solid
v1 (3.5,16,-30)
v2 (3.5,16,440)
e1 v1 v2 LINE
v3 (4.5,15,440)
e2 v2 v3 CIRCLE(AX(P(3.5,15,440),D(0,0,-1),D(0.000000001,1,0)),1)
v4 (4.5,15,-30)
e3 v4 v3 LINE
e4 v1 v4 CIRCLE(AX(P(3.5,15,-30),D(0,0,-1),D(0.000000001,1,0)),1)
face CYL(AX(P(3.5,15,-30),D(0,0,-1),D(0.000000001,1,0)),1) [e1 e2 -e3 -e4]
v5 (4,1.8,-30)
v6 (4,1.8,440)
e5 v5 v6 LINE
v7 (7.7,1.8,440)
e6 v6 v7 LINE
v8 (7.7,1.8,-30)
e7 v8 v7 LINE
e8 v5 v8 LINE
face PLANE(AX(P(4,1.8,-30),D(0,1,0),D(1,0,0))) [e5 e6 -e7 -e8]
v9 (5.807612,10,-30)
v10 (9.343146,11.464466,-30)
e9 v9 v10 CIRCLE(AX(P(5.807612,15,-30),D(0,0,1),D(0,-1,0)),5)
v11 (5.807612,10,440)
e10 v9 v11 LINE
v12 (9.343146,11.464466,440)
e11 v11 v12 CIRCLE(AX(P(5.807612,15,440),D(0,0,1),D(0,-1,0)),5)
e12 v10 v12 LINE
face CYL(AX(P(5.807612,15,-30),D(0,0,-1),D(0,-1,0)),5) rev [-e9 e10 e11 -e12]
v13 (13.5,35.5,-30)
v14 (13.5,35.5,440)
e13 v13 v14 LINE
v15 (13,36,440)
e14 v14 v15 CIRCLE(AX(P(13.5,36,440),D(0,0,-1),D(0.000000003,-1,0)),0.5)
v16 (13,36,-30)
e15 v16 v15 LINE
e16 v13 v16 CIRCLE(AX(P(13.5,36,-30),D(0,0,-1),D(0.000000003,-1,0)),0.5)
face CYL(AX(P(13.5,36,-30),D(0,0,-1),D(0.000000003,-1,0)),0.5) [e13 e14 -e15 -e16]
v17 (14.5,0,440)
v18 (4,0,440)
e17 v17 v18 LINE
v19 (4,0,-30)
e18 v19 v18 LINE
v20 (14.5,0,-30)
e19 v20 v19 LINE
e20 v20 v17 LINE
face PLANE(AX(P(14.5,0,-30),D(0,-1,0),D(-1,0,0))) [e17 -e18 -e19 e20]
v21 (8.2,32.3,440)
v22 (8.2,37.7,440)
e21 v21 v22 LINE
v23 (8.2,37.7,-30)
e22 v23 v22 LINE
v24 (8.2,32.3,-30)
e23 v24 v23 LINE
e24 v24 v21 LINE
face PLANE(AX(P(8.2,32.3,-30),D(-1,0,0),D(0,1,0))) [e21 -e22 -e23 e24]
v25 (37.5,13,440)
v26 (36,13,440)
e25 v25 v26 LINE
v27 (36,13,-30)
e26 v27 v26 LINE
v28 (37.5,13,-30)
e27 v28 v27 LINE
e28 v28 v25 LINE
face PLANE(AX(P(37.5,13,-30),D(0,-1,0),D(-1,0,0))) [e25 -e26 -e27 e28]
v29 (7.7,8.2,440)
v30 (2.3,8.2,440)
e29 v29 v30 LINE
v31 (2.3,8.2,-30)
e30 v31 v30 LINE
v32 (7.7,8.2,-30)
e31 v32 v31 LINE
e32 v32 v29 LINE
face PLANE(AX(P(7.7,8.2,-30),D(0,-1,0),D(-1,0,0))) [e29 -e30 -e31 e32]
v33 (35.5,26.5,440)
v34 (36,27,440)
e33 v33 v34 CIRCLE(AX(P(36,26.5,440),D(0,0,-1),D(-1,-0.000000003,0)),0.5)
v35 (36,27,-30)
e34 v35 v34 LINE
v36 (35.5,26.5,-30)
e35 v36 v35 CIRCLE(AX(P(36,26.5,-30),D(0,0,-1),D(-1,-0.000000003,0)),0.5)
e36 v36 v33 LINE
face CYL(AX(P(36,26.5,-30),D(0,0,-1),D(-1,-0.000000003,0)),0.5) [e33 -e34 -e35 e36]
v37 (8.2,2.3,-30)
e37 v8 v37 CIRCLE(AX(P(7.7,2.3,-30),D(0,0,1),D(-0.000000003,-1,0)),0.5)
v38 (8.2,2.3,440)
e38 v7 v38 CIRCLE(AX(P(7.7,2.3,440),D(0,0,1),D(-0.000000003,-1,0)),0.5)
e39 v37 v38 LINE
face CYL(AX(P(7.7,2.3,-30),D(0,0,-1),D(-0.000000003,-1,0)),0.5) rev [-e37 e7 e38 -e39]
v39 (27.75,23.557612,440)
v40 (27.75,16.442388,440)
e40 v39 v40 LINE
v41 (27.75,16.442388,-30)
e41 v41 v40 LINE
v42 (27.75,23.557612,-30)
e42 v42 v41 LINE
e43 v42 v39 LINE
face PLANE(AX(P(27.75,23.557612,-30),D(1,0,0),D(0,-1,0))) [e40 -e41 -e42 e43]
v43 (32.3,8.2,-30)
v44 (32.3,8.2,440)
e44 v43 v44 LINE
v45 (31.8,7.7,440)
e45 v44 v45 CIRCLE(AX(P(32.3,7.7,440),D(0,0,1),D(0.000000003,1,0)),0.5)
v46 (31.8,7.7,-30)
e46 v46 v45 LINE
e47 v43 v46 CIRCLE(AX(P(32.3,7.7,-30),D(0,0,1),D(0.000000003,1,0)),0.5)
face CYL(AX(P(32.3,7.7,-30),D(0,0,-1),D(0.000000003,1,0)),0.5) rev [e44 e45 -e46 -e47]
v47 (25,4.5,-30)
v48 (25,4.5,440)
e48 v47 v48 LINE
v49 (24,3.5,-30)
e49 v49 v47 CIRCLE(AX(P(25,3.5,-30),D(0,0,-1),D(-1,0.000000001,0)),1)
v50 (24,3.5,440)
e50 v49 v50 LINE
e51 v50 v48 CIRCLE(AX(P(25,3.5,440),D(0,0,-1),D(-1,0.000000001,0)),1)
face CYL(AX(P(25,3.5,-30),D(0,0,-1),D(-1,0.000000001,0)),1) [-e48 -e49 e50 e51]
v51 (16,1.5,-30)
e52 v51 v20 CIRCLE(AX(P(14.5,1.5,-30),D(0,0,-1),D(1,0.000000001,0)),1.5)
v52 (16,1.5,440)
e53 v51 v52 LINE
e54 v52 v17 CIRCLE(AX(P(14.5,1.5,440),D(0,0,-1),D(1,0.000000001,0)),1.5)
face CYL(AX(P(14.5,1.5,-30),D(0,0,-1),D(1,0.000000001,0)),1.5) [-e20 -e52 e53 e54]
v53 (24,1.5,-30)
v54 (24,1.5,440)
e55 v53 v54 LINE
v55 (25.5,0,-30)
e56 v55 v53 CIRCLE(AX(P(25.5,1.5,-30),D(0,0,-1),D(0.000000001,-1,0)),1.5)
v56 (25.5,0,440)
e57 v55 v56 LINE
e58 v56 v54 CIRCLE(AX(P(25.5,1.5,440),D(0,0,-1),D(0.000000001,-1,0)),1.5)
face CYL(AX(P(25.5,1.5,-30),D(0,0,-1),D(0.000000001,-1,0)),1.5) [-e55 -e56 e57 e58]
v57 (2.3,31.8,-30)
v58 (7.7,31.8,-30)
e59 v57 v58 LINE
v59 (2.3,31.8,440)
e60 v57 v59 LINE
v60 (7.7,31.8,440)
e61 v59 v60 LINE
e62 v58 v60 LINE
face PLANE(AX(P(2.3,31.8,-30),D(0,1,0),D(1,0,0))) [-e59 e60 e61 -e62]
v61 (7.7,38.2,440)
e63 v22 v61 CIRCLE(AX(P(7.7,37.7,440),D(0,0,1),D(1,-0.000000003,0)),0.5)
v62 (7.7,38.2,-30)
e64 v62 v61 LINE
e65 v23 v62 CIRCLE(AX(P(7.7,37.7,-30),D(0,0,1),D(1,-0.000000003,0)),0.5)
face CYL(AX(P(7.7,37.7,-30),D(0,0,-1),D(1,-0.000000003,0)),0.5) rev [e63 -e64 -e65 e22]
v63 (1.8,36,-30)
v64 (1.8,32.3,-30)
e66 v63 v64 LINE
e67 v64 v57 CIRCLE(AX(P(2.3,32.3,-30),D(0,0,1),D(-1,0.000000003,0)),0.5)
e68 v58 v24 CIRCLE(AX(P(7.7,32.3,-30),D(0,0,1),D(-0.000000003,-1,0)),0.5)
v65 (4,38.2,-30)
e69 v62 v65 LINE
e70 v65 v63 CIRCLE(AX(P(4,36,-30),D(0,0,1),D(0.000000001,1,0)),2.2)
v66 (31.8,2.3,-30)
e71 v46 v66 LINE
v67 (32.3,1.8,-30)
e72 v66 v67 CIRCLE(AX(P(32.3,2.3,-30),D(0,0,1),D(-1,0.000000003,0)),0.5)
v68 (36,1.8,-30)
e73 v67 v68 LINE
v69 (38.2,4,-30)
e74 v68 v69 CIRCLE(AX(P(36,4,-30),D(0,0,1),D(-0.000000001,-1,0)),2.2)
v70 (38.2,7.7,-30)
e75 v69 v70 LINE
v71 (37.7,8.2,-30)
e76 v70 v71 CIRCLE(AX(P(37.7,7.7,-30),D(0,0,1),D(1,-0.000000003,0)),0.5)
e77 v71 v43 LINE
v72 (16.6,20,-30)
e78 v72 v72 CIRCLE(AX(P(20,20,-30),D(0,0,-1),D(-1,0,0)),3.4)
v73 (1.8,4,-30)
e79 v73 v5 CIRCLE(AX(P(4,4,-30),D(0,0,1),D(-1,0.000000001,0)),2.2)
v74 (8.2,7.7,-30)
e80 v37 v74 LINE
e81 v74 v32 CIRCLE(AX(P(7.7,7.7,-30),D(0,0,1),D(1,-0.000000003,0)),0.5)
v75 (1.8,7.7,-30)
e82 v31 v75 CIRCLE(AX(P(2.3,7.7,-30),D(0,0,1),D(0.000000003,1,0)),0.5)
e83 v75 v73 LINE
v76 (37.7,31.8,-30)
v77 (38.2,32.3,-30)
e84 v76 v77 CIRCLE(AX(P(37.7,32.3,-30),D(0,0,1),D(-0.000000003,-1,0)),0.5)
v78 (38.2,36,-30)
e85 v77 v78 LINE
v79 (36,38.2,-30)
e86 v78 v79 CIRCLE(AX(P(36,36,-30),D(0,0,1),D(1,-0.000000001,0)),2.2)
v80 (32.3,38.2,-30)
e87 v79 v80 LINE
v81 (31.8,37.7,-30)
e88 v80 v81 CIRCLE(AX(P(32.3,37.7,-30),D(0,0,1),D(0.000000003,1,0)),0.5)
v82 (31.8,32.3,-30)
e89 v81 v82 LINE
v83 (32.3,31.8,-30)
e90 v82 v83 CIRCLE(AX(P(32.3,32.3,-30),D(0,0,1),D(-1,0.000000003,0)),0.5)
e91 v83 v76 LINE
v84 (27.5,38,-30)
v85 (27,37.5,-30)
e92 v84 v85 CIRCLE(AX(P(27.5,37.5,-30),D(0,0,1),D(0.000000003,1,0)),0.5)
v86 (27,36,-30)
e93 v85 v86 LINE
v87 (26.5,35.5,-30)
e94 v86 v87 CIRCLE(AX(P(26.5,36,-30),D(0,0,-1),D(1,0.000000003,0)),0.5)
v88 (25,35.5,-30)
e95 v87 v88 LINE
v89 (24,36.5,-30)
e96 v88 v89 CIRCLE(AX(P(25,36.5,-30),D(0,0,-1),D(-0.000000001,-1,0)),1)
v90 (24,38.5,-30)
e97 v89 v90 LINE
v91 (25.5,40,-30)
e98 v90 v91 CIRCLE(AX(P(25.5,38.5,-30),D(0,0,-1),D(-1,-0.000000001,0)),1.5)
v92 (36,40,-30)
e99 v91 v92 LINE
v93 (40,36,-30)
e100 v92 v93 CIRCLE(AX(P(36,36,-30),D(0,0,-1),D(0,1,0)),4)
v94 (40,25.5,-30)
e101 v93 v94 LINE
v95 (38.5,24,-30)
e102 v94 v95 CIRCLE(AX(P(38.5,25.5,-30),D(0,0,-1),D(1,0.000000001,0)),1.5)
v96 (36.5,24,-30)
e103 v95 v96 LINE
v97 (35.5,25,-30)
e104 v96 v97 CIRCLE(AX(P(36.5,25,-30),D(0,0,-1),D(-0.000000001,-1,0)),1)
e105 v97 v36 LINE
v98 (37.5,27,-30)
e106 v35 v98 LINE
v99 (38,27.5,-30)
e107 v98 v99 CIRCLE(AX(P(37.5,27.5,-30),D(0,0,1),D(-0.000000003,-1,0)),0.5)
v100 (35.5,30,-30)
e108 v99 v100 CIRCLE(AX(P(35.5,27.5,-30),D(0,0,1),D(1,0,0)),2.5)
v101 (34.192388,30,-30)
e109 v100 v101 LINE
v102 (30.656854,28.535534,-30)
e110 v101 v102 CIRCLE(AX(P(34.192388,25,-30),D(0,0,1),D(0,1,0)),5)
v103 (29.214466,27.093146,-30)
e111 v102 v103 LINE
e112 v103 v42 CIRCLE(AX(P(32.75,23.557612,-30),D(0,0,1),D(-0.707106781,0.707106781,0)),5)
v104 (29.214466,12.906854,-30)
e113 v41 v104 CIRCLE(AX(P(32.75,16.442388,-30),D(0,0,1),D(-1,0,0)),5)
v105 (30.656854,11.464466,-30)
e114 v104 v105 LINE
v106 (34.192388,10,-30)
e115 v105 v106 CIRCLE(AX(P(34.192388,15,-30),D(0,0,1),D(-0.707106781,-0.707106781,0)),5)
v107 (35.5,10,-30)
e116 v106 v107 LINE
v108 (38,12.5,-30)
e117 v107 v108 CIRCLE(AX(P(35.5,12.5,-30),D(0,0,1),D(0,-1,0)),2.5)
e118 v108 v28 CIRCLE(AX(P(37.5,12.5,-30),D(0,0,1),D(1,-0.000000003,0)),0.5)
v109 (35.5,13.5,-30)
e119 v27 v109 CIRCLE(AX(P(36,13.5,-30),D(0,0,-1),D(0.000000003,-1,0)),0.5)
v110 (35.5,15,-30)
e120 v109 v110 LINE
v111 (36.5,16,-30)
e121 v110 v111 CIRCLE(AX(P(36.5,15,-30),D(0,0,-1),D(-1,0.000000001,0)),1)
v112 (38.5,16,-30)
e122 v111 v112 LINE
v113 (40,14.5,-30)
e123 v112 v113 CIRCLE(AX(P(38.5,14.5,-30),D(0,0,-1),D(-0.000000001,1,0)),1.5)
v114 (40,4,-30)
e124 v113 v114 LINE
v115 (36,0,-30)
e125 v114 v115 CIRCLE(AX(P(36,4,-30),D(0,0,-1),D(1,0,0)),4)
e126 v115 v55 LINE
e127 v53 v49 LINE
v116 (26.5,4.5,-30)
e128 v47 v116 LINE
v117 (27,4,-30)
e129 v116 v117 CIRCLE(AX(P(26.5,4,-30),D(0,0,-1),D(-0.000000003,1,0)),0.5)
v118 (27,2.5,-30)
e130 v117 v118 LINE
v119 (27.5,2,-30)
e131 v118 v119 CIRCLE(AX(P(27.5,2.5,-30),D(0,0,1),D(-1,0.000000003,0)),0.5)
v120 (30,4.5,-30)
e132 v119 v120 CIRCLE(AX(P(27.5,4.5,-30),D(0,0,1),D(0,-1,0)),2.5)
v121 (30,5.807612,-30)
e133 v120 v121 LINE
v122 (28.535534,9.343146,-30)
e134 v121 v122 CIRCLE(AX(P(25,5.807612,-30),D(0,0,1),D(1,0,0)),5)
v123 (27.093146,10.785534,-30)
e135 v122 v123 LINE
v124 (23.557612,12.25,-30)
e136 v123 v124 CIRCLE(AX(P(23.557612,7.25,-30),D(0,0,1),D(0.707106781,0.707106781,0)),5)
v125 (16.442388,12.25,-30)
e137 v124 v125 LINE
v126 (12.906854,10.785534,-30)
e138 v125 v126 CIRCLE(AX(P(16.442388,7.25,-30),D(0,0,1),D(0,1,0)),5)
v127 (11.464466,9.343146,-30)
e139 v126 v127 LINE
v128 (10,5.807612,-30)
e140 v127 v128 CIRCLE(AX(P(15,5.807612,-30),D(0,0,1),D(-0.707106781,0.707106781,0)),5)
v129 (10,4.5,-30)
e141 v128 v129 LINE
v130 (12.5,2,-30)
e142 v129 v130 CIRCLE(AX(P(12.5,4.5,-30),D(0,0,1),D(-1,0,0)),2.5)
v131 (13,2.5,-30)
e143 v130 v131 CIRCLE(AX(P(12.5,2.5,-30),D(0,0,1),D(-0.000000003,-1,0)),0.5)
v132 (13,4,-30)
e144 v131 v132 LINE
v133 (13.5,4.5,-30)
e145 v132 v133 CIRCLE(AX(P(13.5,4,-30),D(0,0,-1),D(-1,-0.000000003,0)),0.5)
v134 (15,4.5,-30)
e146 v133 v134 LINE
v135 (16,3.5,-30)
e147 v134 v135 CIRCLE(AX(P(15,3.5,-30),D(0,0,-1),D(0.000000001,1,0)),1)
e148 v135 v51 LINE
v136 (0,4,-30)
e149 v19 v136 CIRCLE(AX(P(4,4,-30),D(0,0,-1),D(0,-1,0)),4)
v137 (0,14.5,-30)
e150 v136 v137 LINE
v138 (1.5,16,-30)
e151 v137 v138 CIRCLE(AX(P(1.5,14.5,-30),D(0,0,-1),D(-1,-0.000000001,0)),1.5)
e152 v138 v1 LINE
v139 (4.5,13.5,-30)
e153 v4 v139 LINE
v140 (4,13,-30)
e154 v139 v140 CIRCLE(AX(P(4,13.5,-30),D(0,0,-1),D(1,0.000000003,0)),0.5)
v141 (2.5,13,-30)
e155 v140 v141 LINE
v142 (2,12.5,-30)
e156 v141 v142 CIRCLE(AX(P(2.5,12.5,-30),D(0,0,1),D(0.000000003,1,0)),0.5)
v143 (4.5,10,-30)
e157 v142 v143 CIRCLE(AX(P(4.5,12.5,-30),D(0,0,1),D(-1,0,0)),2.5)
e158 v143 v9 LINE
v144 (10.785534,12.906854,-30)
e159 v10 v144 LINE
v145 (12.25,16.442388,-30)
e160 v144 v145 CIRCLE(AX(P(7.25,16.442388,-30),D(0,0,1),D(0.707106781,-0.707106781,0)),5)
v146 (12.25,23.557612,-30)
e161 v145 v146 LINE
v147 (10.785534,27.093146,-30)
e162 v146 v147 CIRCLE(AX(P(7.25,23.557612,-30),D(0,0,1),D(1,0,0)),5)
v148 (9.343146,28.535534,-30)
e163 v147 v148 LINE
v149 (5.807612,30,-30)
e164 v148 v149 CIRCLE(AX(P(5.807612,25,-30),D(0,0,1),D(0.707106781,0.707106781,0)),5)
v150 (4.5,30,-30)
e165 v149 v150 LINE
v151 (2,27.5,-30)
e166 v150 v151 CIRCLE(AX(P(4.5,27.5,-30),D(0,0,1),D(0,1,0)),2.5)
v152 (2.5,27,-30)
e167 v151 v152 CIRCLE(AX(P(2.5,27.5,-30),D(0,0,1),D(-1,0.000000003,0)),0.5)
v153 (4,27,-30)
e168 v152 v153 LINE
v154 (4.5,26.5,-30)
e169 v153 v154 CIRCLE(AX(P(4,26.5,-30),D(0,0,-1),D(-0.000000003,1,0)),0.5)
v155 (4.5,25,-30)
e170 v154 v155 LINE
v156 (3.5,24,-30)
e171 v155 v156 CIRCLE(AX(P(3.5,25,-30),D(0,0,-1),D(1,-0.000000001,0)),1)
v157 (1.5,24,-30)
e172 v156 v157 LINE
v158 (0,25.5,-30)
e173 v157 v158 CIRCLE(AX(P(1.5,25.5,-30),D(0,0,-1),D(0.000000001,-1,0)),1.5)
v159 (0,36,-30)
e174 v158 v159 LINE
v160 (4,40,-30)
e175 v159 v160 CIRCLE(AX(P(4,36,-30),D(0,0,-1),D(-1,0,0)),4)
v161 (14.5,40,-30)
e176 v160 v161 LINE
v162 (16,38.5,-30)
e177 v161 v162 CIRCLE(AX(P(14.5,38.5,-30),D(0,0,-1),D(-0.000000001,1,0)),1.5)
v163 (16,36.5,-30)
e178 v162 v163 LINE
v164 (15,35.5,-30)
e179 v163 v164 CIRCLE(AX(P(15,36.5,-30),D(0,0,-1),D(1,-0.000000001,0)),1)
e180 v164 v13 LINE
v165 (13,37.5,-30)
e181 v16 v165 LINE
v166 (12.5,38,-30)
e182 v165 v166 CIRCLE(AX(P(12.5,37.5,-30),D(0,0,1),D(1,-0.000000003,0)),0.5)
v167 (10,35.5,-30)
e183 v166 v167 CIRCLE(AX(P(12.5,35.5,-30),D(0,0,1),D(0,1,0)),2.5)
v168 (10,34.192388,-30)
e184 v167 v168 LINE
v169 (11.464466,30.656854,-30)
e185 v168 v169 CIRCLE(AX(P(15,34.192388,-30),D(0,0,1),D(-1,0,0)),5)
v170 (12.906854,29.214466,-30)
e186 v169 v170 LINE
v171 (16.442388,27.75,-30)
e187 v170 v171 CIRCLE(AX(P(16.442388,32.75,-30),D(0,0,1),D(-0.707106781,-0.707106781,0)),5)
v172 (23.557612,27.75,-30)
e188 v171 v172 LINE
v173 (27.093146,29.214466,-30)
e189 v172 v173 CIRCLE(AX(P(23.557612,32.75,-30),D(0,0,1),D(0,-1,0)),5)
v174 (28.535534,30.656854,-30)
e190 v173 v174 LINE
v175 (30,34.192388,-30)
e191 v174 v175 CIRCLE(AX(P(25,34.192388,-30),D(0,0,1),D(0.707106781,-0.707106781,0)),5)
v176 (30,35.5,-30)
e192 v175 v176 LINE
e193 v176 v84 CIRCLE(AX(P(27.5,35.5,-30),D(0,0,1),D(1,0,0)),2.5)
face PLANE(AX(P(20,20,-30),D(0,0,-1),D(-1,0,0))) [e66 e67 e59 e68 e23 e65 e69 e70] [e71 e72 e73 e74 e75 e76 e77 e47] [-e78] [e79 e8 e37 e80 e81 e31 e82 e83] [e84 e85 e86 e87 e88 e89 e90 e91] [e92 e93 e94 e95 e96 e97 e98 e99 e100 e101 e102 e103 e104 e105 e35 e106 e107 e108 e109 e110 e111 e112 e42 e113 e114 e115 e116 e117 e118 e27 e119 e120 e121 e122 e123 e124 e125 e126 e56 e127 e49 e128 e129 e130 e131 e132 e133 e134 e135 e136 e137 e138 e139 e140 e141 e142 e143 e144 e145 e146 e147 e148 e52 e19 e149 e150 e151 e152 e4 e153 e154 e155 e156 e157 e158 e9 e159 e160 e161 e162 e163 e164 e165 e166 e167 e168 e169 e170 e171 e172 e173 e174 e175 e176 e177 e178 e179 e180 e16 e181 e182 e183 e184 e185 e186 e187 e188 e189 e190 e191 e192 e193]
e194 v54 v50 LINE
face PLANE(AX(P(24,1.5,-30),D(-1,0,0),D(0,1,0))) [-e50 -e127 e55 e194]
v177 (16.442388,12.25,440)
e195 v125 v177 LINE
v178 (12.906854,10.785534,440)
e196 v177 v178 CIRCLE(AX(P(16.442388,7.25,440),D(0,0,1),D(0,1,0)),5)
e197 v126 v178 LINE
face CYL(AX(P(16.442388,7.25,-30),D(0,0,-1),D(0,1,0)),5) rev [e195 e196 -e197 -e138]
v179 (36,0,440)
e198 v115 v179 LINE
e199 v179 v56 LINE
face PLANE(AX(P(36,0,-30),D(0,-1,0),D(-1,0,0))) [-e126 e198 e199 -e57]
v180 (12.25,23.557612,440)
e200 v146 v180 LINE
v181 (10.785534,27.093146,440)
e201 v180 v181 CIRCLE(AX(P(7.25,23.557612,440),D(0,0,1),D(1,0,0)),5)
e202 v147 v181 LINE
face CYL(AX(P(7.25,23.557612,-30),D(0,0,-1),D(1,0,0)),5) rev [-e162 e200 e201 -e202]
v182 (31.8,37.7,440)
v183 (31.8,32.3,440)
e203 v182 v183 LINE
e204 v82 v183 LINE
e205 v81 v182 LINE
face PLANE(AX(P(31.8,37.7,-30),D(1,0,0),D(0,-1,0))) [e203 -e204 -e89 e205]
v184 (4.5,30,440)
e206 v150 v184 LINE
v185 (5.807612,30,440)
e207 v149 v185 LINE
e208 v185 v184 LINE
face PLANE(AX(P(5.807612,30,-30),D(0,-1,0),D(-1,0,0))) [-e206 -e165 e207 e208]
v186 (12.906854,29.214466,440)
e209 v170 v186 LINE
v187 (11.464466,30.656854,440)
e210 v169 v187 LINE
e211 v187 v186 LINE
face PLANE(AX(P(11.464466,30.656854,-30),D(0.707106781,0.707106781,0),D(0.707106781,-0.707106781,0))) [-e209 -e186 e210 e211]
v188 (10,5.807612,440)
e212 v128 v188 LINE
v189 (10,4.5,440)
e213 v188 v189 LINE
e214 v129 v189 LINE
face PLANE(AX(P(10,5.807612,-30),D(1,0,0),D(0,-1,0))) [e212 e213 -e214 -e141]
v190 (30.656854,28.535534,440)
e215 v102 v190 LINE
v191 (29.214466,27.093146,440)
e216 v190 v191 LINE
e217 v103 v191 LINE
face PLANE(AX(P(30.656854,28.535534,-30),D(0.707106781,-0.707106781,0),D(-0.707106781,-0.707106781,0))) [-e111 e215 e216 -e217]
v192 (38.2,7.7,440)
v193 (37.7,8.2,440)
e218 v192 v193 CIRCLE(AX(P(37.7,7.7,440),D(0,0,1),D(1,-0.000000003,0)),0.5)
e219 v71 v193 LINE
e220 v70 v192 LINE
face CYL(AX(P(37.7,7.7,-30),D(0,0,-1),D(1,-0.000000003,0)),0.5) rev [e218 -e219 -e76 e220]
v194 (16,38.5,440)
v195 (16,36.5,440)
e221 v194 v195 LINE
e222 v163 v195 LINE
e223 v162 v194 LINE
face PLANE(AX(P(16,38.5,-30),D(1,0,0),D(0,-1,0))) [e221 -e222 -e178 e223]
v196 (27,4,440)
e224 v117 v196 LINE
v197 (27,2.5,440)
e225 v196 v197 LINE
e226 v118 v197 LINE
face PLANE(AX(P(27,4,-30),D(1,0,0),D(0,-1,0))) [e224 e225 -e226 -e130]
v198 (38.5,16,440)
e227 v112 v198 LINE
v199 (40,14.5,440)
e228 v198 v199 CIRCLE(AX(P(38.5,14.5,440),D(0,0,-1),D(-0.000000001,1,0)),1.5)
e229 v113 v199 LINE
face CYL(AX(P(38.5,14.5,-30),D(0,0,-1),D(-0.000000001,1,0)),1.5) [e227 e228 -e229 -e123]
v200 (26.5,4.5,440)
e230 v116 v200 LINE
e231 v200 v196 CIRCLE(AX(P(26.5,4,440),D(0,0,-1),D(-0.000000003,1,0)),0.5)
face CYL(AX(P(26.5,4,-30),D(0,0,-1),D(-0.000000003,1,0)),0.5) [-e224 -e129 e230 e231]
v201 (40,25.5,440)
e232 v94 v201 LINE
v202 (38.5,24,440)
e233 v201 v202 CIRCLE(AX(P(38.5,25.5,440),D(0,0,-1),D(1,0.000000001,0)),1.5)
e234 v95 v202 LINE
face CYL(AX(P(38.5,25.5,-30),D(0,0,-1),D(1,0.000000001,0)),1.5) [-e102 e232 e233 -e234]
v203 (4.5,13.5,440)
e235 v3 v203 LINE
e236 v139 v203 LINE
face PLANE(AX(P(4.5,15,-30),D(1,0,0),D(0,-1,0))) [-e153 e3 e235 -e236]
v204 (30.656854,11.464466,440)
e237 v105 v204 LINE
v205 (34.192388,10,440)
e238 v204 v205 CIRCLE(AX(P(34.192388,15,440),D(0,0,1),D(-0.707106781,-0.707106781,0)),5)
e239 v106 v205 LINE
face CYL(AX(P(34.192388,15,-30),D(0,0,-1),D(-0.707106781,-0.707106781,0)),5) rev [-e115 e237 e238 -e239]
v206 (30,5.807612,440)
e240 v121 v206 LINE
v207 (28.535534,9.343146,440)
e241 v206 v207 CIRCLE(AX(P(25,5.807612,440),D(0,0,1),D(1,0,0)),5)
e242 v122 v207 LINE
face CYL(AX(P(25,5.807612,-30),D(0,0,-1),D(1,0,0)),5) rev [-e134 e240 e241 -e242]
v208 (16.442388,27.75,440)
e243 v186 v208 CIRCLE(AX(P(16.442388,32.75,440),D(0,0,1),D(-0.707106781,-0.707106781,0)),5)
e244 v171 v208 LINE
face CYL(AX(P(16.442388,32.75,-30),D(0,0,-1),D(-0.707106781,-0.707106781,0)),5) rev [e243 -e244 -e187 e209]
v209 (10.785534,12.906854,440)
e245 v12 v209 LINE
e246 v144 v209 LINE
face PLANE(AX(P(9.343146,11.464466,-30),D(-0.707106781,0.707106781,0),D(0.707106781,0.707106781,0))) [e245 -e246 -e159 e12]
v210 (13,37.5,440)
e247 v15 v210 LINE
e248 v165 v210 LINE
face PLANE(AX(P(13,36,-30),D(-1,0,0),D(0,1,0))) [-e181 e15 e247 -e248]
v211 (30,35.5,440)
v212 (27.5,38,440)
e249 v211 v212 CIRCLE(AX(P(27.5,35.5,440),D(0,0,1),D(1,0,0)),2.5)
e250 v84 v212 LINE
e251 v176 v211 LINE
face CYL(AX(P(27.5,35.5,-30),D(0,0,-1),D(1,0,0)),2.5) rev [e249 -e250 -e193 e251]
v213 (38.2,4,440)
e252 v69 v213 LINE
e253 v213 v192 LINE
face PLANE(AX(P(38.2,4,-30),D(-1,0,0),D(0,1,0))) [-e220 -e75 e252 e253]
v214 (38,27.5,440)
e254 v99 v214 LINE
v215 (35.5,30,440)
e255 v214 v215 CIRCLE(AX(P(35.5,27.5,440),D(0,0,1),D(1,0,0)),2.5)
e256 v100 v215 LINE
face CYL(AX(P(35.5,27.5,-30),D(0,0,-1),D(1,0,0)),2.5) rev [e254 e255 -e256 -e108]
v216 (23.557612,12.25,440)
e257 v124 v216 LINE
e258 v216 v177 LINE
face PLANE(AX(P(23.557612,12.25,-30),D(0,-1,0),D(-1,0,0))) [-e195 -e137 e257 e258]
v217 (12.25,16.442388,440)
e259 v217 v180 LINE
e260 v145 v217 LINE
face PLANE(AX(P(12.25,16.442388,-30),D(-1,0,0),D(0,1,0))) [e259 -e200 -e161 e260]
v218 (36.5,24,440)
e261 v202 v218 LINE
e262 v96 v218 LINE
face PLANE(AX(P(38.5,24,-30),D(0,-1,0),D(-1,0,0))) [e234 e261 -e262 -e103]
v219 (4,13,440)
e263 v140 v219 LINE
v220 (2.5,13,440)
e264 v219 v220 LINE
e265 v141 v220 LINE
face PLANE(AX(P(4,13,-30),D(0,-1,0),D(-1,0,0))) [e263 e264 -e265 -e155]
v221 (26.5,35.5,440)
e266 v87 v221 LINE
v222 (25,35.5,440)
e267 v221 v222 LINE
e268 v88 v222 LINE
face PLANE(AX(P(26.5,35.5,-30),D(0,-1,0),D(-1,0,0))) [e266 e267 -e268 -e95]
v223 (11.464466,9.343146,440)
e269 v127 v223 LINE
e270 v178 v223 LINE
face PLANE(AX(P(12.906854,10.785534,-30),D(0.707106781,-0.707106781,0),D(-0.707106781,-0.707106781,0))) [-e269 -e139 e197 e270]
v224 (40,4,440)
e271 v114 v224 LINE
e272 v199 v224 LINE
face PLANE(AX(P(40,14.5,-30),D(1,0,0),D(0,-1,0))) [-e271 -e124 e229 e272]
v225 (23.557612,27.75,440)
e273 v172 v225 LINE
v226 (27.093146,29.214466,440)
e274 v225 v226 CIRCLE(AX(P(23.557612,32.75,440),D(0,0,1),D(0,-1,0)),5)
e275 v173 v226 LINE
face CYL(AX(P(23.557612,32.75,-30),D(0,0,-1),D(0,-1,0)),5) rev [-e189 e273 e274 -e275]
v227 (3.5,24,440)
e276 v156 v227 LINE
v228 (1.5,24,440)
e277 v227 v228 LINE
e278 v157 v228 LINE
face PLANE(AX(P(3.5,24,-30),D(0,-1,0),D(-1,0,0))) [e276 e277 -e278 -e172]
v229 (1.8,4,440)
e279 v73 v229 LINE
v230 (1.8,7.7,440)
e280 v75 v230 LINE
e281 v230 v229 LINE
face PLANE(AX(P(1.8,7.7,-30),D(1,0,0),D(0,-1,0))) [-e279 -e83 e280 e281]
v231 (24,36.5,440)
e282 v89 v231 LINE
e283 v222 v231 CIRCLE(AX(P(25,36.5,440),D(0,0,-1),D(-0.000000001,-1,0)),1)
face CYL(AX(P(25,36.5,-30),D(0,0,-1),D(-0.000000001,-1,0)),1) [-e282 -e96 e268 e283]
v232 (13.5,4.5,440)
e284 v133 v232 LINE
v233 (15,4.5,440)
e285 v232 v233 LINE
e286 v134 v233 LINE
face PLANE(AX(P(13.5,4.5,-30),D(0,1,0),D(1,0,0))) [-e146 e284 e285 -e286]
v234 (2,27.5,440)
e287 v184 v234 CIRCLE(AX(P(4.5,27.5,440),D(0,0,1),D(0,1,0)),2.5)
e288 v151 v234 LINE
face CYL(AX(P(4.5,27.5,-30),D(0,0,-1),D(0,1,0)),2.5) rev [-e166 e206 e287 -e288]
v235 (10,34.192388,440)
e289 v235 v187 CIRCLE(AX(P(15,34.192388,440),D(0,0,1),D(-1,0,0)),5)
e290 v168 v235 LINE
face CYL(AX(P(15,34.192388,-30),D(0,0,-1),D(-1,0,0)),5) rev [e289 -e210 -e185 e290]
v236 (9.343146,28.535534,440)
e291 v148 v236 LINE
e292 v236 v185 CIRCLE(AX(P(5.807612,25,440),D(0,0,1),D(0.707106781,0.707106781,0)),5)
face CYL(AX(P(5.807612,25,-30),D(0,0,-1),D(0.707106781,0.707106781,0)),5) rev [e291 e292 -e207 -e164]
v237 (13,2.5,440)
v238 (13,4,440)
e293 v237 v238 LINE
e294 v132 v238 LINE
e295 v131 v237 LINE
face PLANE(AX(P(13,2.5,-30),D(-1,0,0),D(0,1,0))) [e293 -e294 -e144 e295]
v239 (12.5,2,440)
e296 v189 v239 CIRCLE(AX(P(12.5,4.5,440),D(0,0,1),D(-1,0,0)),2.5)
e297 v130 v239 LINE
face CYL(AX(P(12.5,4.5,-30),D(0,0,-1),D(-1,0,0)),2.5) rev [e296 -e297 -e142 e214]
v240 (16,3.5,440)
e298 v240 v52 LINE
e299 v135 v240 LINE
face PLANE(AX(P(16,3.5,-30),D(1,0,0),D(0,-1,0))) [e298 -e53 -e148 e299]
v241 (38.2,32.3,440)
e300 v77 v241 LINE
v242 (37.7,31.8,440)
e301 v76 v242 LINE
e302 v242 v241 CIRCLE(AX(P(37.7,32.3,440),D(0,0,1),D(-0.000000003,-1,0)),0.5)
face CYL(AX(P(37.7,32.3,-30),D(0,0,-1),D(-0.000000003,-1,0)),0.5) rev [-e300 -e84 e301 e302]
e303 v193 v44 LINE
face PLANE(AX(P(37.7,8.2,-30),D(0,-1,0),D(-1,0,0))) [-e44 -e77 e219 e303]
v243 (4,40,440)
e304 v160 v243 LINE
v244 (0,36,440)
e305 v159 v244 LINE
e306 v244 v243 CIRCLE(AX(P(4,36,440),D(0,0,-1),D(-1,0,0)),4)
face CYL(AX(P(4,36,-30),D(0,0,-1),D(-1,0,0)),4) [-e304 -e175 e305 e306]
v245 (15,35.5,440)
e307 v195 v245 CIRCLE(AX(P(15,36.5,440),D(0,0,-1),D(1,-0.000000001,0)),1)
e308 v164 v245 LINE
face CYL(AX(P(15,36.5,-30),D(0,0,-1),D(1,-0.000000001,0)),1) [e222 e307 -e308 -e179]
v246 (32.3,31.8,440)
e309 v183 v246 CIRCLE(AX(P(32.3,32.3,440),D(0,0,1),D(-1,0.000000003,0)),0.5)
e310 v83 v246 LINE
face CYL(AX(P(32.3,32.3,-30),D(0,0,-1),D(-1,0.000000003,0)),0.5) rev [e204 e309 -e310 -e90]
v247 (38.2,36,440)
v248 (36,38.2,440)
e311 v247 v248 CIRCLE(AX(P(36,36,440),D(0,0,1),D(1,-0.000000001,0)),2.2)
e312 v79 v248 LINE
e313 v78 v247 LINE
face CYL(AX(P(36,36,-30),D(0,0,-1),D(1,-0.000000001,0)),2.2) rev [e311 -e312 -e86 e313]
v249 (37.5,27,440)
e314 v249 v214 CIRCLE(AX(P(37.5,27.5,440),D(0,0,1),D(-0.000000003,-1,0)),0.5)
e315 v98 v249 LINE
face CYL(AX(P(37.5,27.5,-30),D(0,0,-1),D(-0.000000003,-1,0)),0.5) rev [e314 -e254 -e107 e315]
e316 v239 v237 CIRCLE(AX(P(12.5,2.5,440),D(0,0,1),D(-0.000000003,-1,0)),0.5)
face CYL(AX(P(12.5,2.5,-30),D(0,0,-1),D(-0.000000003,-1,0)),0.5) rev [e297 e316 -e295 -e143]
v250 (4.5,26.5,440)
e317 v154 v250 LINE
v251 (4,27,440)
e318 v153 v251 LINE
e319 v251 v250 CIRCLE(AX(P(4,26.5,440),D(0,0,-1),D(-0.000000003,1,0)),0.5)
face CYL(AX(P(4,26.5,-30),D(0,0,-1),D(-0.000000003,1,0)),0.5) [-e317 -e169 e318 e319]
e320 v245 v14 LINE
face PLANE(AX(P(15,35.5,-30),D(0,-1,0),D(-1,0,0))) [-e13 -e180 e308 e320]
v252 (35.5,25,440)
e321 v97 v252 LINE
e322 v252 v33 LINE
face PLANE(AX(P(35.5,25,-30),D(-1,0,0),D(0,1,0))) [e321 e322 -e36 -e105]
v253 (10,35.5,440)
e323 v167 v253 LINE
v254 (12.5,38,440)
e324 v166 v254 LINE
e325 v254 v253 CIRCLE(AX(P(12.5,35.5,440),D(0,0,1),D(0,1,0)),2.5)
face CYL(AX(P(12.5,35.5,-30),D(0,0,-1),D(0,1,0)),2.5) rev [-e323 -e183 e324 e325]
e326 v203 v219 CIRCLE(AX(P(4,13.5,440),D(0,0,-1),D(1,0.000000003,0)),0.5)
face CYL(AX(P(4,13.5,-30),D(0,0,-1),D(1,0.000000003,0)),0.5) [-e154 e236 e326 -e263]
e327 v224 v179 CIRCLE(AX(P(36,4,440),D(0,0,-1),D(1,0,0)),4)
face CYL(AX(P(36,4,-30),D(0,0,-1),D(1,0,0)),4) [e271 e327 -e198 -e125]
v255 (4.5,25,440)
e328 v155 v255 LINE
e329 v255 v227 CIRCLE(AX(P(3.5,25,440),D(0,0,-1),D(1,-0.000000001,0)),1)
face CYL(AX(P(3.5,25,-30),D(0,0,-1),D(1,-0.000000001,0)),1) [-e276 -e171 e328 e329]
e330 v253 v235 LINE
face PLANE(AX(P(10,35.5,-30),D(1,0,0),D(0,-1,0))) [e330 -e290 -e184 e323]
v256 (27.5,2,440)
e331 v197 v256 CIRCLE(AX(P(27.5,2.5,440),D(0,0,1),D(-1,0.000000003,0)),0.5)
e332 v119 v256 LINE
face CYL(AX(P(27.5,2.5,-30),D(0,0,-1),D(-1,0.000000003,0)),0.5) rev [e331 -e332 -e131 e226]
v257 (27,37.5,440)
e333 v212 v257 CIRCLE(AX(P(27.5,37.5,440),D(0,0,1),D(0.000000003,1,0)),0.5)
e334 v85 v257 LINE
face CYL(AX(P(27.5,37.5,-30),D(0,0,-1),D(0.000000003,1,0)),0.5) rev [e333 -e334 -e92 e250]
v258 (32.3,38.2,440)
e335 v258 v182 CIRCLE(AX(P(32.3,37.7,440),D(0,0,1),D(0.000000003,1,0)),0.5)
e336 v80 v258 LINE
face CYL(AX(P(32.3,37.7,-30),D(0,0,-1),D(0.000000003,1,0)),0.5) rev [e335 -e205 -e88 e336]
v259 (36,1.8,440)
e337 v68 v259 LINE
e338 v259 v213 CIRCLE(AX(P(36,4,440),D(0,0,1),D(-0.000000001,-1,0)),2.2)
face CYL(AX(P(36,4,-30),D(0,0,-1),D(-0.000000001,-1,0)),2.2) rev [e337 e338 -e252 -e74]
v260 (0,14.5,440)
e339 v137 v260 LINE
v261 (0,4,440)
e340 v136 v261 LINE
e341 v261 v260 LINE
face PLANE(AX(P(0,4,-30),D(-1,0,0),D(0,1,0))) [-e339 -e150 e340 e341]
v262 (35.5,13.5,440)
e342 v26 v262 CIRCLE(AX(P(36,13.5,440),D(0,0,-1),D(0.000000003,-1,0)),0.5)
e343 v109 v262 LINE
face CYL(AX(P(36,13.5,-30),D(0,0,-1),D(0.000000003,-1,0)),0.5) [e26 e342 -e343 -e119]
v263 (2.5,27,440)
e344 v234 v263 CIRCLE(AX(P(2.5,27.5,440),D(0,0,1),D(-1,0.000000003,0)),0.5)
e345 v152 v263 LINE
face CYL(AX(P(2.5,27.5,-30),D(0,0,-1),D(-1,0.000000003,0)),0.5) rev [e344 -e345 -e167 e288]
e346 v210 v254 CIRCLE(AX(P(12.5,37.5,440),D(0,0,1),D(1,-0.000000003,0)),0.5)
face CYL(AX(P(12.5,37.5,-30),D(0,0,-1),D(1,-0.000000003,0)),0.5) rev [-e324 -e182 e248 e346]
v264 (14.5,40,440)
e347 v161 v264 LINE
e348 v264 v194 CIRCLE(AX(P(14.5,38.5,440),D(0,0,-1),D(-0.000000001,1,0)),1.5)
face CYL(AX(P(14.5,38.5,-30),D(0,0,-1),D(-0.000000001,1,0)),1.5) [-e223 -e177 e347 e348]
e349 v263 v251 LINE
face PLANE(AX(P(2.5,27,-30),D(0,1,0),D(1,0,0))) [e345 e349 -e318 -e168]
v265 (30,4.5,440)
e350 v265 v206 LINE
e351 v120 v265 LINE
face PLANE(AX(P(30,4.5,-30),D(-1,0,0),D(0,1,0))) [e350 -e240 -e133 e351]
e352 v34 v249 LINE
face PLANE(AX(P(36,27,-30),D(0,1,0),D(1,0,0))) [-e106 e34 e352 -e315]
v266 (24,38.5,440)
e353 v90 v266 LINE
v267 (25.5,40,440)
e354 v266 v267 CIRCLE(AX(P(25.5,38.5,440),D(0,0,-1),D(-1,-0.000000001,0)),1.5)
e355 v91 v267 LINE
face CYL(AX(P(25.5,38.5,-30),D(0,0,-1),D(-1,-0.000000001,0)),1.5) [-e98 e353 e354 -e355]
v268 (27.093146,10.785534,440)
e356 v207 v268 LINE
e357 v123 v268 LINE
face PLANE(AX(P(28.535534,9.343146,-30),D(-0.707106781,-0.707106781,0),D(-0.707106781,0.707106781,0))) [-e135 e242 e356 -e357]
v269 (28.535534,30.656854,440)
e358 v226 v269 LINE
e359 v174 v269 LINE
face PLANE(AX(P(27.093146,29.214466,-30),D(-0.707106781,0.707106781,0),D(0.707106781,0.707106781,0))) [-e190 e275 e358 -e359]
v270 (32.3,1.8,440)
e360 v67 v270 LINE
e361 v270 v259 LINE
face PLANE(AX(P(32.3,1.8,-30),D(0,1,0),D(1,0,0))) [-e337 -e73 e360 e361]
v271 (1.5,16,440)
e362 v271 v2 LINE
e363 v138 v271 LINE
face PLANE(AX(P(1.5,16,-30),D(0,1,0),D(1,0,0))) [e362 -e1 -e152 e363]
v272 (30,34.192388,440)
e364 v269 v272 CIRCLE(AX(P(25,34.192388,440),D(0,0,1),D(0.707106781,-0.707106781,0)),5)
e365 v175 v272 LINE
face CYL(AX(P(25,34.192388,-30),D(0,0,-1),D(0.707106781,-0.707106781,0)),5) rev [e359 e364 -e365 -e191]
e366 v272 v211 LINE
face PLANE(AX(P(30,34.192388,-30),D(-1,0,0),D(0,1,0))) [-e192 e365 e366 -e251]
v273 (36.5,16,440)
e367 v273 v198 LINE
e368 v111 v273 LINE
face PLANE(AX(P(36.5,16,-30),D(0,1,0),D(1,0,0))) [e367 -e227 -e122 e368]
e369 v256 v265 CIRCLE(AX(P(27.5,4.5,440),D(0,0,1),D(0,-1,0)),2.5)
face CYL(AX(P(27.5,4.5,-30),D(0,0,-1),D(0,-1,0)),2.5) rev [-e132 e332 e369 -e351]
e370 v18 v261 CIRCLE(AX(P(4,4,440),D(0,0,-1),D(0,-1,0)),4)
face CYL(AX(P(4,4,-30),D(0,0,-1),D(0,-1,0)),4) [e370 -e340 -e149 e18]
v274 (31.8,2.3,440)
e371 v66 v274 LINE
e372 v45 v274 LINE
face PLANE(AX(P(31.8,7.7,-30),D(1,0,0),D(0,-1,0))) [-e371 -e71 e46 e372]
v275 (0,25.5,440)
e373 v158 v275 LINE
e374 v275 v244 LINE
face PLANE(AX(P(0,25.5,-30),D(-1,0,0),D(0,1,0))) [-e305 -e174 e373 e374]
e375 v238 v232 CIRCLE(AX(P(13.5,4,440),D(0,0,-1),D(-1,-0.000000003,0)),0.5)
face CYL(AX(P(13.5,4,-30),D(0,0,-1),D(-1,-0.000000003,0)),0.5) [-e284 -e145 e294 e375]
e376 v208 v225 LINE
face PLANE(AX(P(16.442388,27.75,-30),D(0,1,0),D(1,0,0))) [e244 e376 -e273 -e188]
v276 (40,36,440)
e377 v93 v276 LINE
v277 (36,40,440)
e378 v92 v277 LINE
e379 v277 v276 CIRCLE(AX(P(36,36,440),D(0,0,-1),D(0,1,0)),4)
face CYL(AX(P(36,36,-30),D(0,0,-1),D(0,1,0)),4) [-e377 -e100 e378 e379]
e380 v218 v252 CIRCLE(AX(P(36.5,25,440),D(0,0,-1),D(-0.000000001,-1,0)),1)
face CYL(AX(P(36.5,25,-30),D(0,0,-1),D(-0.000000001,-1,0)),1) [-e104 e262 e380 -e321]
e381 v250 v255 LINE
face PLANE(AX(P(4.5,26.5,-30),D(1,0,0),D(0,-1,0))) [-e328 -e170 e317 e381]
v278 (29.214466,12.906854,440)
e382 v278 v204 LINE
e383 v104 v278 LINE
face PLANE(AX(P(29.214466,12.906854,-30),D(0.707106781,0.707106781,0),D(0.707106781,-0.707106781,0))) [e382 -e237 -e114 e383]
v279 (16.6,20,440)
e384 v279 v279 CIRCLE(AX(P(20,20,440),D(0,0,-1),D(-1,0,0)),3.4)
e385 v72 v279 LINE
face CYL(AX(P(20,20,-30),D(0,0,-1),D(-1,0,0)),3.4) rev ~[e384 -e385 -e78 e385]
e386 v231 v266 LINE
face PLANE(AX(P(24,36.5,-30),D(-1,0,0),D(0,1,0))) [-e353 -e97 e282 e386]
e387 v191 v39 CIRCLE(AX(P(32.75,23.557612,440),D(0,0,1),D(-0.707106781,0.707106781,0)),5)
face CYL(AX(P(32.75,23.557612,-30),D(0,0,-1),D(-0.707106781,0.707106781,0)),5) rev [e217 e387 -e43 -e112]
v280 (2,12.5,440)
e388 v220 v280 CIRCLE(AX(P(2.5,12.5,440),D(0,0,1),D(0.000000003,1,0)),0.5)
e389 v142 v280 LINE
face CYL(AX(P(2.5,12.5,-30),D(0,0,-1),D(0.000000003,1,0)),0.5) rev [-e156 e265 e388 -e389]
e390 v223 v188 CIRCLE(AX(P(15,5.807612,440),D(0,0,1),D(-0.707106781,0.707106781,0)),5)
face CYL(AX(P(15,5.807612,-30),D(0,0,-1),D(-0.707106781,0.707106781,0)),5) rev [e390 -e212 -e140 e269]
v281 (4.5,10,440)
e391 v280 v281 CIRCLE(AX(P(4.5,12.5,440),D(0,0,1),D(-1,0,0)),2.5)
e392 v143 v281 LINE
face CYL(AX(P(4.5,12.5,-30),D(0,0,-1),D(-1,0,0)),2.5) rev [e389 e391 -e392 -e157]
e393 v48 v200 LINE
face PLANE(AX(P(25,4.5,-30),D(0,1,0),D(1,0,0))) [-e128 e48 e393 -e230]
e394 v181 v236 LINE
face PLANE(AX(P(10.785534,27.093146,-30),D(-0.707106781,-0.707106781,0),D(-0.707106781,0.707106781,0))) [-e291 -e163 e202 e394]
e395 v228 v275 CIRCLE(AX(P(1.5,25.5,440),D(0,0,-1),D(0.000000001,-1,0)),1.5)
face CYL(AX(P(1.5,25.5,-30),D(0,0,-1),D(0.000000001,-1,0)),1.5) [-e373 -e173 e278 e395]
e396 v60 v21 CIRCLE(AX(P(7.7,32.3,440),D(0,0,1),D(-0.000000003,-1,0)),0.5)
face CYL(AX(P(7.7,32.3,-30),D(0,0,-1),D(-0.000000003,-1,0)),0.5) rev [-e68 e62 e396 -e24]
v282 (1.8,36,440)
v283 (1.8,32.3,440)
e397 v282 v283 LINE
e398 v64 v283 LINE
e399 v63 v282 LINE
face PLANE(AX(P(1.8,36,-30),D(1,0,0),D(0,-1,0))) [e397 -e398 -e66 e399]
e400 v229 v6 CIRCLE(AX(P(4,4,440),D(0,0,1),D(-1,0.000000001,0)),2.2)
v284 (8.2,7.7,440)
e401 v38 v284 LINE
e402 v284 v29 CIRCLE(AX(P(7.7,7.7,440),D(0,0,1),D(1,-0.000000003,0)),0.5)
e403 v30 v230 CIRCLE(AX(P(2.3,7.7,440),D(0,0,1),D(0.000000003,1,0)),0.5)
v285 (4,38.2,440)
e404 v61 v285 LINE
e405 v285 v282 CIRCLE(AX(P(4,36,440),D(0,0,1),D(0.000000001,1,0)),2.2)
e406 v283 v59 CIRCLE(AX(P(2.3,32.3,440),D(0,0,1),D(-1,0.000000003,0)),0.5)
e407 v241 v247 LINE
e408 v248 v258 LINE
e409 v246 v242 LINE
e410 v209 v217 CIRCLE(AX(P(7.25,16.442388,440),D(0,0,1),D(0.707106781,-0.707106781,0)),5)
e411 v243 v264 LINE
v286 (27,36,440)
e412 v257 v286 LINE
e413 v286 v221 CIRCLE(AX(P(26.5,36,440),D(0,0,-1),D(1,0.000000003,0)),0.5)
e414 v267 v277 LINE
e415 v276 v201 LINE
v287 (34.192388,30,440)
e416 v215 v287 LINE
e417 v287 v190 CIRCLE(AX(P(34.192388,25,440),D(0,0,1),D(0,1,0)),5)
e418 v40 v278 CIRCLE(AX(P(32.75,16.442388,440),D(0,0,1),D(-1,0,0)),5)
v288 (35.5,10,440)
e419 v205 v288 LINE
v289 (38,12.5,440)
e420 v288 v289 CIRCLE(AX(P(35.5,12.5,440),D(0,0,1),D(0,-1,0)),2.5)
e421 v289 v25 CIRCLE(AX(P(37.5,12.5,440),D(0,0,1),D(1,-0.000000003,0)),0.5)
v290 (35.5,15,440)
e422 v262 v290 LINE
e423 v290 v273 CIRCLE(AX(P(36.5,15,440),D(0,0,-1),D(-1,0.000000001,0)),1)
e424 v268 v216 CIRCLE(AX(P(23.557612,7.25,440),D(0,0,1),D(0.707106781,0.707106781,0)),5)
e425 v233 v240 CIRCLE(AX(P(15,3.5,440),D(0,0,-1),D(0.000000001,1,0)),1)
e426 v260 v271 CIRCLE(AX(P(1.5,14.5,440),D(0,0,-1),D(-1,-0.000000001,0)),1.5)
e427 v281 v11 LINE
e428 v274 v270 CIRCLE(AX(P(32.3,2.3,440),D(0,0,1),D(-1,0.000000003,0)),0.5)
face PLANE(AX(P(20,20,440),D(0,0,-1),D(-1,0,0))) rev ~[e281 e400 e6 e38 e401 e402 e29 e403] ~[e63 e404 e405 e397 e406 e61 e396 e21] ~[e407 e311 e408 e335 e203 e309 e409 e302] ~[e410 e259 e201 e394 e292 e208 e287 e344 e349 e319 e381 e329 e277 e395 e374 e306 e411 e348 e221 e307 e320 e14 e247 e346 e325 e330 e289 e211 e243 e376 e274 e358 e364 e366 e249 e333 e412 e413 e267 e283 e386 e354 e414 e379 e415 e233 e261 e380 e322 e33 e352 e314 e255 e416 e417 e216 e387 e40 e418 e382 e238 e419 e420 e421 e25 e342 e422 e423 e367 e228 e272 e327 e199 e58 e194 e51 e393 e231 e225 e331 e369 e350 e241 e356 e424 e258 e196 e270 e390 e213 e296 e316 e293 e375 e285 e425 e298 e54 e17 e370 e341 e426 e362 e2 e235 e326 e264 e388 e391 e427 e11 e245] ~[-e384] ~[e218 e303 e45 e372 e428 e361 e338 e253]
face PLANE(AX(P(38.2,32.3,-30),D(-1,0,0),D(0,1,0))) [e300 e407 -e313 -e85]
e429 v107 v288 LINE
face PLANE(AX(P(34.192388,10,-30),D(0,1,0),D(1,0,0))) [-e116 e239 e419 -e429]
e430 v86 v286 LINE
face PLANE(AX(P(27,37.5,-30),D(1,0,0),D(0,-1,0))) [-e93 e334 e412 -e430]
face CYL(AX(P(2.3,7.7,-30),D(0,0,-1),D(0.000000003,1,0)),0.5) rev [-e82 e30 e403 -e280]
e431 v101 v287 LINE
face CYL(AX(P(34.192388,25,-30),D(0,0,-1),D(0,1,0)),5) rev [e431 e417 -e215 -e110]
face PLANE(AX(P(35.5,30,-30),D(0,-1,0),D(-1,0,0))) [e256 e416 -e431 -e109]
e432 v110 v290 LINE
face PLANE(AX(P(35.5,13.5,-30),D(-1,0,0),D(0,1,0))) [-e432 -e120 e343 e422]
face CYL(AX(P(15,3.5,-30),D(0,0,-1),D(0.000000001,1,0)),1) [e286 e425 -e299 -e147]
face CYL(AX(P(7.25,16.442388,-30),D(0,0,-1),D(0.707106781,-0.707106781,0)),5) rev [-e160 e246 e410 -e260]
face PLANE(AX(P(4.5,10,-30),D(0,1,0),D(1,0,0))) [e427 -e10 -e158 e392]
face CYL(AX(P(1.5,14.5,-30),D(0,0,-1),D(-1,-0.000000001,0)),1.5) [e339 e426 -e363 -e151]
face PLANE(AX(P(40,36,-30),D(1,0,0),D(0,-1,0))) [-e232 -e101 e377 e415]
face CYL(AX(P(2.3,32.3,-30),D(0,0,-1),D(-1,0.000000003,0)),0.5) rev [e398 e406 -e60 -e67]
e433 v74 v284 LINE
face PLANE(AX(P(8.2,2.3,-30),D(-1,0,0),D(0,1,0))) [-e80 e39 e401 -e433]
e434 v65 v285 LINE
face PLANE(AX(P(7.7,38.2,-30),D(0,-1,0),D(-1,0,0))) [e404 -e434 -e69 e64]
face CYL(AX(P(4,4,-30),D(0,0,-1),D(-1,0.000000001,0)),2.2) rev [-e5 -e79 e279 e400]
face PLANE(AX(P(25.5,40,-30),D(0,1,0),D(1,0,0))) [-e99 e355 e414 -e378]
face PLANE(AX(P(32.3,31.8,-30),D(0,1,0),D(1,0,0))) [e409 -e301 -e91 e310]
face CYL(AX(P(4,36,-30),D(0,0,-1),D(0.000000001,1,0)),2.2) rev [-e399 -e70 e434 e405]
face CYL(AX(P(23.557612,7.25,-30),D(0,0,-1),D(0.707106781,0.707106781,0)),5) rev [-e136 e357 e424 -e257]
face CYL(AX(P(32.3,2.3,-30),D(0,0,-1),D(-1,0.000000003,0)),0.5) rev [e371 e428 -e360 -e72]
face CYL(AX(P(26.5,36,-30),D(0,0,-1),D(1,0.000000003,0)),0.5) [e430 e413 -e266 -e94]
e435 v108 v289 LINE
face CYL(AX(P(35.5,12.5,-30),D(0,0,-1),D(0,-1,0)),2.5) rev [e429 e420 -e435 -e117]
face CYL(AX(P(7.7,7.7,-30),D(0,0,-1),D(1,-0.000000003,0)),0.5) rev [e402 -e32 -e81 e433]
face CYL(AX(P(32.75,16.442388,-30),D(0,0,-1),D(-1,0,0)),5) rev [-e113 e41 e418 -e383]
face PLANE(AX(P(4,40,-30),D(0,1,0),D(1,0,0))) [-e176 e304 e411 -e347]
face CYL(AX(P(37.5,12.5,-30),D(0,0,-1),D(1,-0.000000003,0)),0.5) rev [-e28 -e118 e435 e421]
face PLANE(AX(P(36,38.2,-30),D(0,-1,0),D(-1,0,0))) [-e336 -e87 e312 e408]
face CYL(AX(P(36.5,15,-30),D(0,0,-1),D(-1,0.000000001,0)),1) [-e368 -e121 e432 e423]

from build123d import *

# Parameters (mm, degrees)
ESQUISSE1_R        = 3.4
BOSS_EXTRU_1_DEPTH = 470


with BuildPart() as part:
    # Esquisse1 → Boss.-Extru.1 (new body)
    with BuildSketch(Plane(origin=(0, 0, -30), x_dir=(-1, 0, 0), z_dir=(0, 0, -1))):
        with BuildLine():
            Line((-4.5, 15), (-4.5, 13.5))
            ThreePointArc((-4.5, 13.5), (-4.353553391, 13.146446609), (-4, 13))
            Line((-4, 13), (-2.5, 13))
            ThreePointArc((-2.5, 13), (-2.146446609, 12.853553391), (-2, 12.5))
            ThreePointArc((-2, 12.5), (-2.732233047, 10.732233047), (-4.5, 10))
            Line((-4.5, 10), (-5.807611845, 10))
            ThreePointArc((-5.807611845, 10), (-7.721029006, 10.380602337), (-9.343145751, 11.464466094))
            Line((-9.343145751, 11.464466094), (-10.785533906, 12.906854249))
            ThreePointArc((-10.785533906, 12.906854249), (-11.869397663, 14.528970994), (-12.25, 16.442388155))
            Line((-12.25, 16.442388155), (-12.25, 23.557611845))
            ThreePointArc((-12.25, 23.557611845), (-11.869397663, 25.471029006), (-10.785533906, 27.093145751))
            Line((-10.785533906, 27.093145751), (-9.343145751, 28.535533906))
            ThreePointArc((-9.343145751, 28.535533906), (-7.721029006, 29.619397663), (-5.807611845, 30))
            Line((-5.807611845, 30), (-4.5, 30))
            ThreePointArc((-4.5, 30), (-2.732233047, 29.267766953), (-2, 27.5))
            ThreePointArc((-2, 27.5), (-2.146446609, 27.146446609), (-2.5, 27))
            Line((-2.5, 27), (-4, 27))
            ThreePointArc((-4, 27), (-4.353553391, 26.853553391), (-4.5, 26.5))
            Line((-4.5, 26.5), (-4.5, 25))
            ThreePointArc((-4.5, 25), (-4.207106781, 24.292893219), (-3.5, 24))
            Line((-3.5, 24), (-1.5, 24))
            ThreePointArc((-1.5, 24), (-0.439339828, 24.439339828), (0, 25.5))
            Line((0, 25.5), (0, 36))
            ThreePointArc((0, 36), (-1.171572875, 38.828427125), (-4, 40))
            Line((-4, 40), (-14.5, 40))
            ThreePointArc((-14.5, 40), (-15.560660172, 39.560660172), (-16, 38.5))
            Line((-16, 38.5), (-16, 36.5))
            ThreePointArc((-16, 36.5), (-15.707106781, 35.792893219), (-15, 35.5))
            Line((-15, 35.5), (-13.5, 35.5))
            ThreePointArc((-13.5, 35.5), (-13.146446609, 35.646446609), (-13, 36))
            Line((-13, 36), (-13, 37.5))
            ThreePointArc((-13, 37.5), (-12.853553391, 37.853553391), (-12.5, 38))
            ThreePointArc((-12.5, 38), (-10.732233047, 37.267766953), (-10, 35.5))
            Line((-10, 35.5), (-10, 34.192388155))
            ThreePointArc((-10, 34.192388155), (-10.380602337, 32.278970994), (-11.464466094, 30.656854249))
            Line((-11.464466094, 30.656854249), (-12.906854249, 29.214466094))
            ThreePointArc((-12.906854249, 29.214466094), (-14.528970994, 28.130602337), (-16.442388155, 27.75))
            Line((-16.442388155, 27.75), (-23.557611845, 27.75))
            ThreePointArc((-23.557611845, 27.75), (-25.471029006, 28.130602337), (-27.093145751, 29.214466094))
            Line((-27.093145751, 29.214466094), (-28.535533906, 30.656854249))
            ThreePointArc((-28.535533906, 30.656854249), (-29.619397663, 32.278970994), (-30, 34.192388155))
            Line((-30, 34.192388155), (-30, 35.5))
            ThreePointArc((-30, 35.5), (-29.267766953, 37.267766953), (-27.5, 38))
            ThreePointArc((-27.5, 38), (-27.146446609, 37.853553391), (-27, 37.5))
            Line((-27, 37.5), (-27, 36))
            ThreePointArc((-27, 36), (-26.853553391, 35.646446609), (-26.5, 35.5))
            Line((-26.5, 35.5), (-25, 35.5))
            ThreePointArc((-25, 35.5), (-24.292893219, 35.792893219), (-24, 36.5))
            Line((-24, 36.5), (-24, 38.5))
            ThreePointArc((-24, 38.5), (-24.439339828, 39.560660172), (-25.5, 40))
            Line((-25.5, 40), (-36, 40))
            ThreePointArc((-36, 40), (-38.828427125, 38.828427125), (-40, 36))
            Line((-40, 36), (-40, 25.5))
            ThreePointArc((-40, 25.5), (-39.560660172, 24.439339828), (-38.5, 24))
            Line((-38.5, 24), (-36.5, 24))
            ThreePointArc((-36.5, 24), (-35.792893219, 24.292893219), (-35.5, 25))
            Line((-35.5, 25), (-35.5, 26.5))
            ThreePointArc((-35.5, 26.5), (-35.646446609, 26.853553391), (-36, 27))
            Line((-36, 27), (-37.5, 27))
            ThreePointArc((-37.5, 27), (-37.853553391, 27.146446609), (-38, 27.5))
            ThreePointArc((-38, 27.5), (-37.267766953, 29.267766953), (-35.5, 30))
            Line((-35.5, 30), (-34.192388155, 30))
            ThreePointArc((-34.192388155, 30), (-32.278970994, 29.619397663), (-30.656854249, 28.535533906))
            Line((-30.656854249, 28.535533906), (-29.214466094, 27.093145751))
            ThreePointArc((-29.214466094, 27.093145751), (-28.130602337, 25.471029006), (-27.75, 23.557611845))
            Line((-27.75, 23.557611845), (-27.75, 16.442388155))
            ThreePointArc((-27.75, 16.442388155), (-28.130602337, 14.528970994), (-29.214466094, 12.906854249))
            Line((-29.214466094, 12.906854249), (-30.656854249, 11.464466094))
            ThreePointArc((-30.656854249, 11.464466094), (-32.278970994, 10.380602337), (-34.192388155, 10))
            Line((-34.192388155, 10), (-35.5, 10))
            ThreePointArc((-35.5, 10), (-37.267766953, 10.732233047), (-38, 12.5))
            ThreePointArc((-38, 12.5), (-37.853553391, 12.853553391), (-37.5, 13))
            Line((-37.5, 13), (-36, 13))
            ThreePointArc((-36, 13), (-35.646446609, 13.146446609), (-35.5, 13.5))
            Line((-35.5, 13.5), (-35.5, 15))
            ThreePointArc((-35.5, 15), (-35.792893219, 15.707106781), (-36.5, 16))
            Line((-36.5, 16), (-38.5, 16))
            ThreePointArc((-38.5, 16), (-39.560660172, 15.560660172), (-40, 14.5))
            Line((-40, 14.5), (-40, 4))
            ThreePointArc((-40, 4), (-38.828427125, 1.171572875), (-36, 0))
            Line((-36, 0), (-25.5, 0))
            ThreePointArc((-25.5, 0), (-24.439339828, 0.439339828), (-24, 1.5))
            Line((-24, 1.5), (-24, 3.5))
            ThreePointArc((-24, 3.5), (-24.292893219, 4.207106781), (-25, 4.5))
            Line((-25, 4.5), (-26.5, 4.5))
            ThreePointArc((-26.5, 4.5), (-26.853553391, 4.353553391), (-27, 4))
            Line((-27, 4), (-27, 2.5))
            ThreePointArc((-27, 2.5), (-27.146446609, 2.146446609), (-27.5, 2))
            ThreePointArc((-27.5, 2), (-29.267766953, 2.732233047), (-30, 4.5))
            Line((-30, 4.5), (-30, 5.807611845))
            ThreePointArc((-30, 5.807611845), (-29.619397663, 7.721029006), (-28.535533906, 9.343145751))
            Line((-28.535533906, 9.343145751), (-27.093145751, 10.785533906))
            ThreePointArc((-27.093145751, 10.785533906), (-25.471029006, 11.869397663), (-23.557611845, 12.25))
            Line((-23.557611845, 12.25), (-16.442388155, 12.25))
            ThreePointArc((-16.442388155, 12.25), (-14.528970994, 11.869397663), (-12.906854249, 10.785533906))
            Line((-12.906854249, 10.785533906), (-11.464466094, 9.343145751))
            ThreePointArc((-11.464466094, 9.343145751), (-10.380602337, 7.721029006), (-10, 5.807611845))
            Line((-10, 5.807611845), (-10, 4.5))
            ThreePointArc((-10, 4.5), (-10.732233047, 2.732233047), (-12.5, 2))
            ThreePointArc((-12.5, 2), (-12.853553391, 2.146446609), (-13, 2.5))
            Line((-13, 2.5), (-13, 4))
            ThreePointArc((-13, 4), (-13.146446609, 4.353553391), (-13.5, 4.5))
            Line((-13.5, 4.5), (-15, 4.5))
            ThreePointArc((-15, 4.5), (-15.707106781, 4.207106781), (-16, 3.5))
            Line((-16, 3.5), (-16, 1.5))
            ThreePointArc((-16, 1.5), (-15.560660172, 0.439339828), (-14.5, 0))
            Line((-14.5, 0), (-4, 0))
            ThreePointArc((-4, 0), (-1.171572875, 1.171572875), (0, 4))
            Line((0, 4), (0, 14.5))
            ThreePointArc((0, 14.5), (-0.439339828, 15.560660172), (-1.5, 16))
            Line((-1.5, 16), (-3.5, 16))
            ThreePointArc((-3.5, 16), (-4.207106781, 15.707106781), (-4.5, 15))
        make_face()
        with Locations((-20, 20)):
            Circle(ESQUISSE1_R, mode=Mode.SUBTRACT)
        with BuildLine():
            Line((-4, 1.8), (-7.7, 1.8))
            ThreePointArc((-7.7, 1.8), (-8.053553391, 1.946446609), (-8.2, 2.3))
            Line((-8.2, 2.3), (-8.2, 7.7))
            ThreePointArc((-8.2, 7.7), (-8.053553391, 8.053553391), (-7.7, 8.2))
            Line((-7.7, 8.2), (-2.3, 8.2))
            ThreePointArc((-2.3, 8.2), (-1.946446609, 8.053553391), (-1.8, 7.7))
            Line((-1.8, 7.7), (-1.8, 4))
            ThreePointArc((-1.8, 4), (-2.444365081, 2.444365081), (-4, 1.8))
        make_face(mode=Mode.SUBTRACT)
        with BuildLine():
            Line((-38.2, 4), (-38.2, 7.7))
            ThreePointArc((-38.2, 7.7), (-38.053553391, 8.053553391), (-37.7, 8.2))
            Line((-37.7, 8.2), (-32.3, 8.2))
            ThreePointArc((-32.3, 8.2), (-31.946446609, 8.053553391), (-31.8, 7.7))
            Line((-31.8, 7.7), (-31.8, 2.3))
            ThreePointArc((-31.8, 2.3), (-31.946446609, 1.946446609), (-32.3, 1.8))
            Line((-32.3, 1.8), (-36, 1.8))
            ThreePointArc((-36, 1.8), (-37.555634919, 2.444365081), (-38.2, 4))
        make_face(mode=Mode.SUBTRACT)
        with BuildLine():
            Line((-36, 38.2), (-32.3, 38.2))
            ThreePointArc((-32.3, 38.2), (-31.946446609, 38.053553391), (-31.8, 37.7))
            Line((-31.8, 37.7), (-31.8, 32.3))
            ThreePointArc((-31.8, 32.3), (-31.946446609, 31.946446609), (-32.3, 31.8))
            Line((-32.3, 31.8), (-37.7, 31.8))
            ThreePointArc((-37.7, 31.8), (-38.053553391, 31.946446609), (-38.2, 32.3))
            Line((-38.2, 32.3), (-38.2, 36))
            ThreePointArc((-38.2, 36), (-37.555634919, 37.555634919), (-36, 38.2))
        make_face(mode=Mode.SUBTRACT)
        with BuildLine():
            Line((-1.8, 36), (-1.8, 32.3))
            ThreePointArc((-1.8, 32.3), (-1.946446609, 31.946446609), (-2.3, 31.8))
            Line((-2.3, 31.8), (-7.7, 31.8))
            ThreePointArc((-7.7, 31.8), (-8.053553391, 31.946446609), (-8.2, 32.3))
            Line((-8.2, 32.3), (-8.2, 37.7))
            ThreePointArc((-8.2, 37.7), (-8.053553391, 38.053553391), (-7.7, 38.2))
            Line((-7.7, 38.2), (-4, 38.2))
            ThreePointArc((-4, 38.2), (-2.444365081, 37.555634919), (-1.8, 36))
        make_face(mode=Mode.SUBTRACT)
    extrude(amount=-BOSS_EXTRU_1_DEPTH)


solid = part.part
